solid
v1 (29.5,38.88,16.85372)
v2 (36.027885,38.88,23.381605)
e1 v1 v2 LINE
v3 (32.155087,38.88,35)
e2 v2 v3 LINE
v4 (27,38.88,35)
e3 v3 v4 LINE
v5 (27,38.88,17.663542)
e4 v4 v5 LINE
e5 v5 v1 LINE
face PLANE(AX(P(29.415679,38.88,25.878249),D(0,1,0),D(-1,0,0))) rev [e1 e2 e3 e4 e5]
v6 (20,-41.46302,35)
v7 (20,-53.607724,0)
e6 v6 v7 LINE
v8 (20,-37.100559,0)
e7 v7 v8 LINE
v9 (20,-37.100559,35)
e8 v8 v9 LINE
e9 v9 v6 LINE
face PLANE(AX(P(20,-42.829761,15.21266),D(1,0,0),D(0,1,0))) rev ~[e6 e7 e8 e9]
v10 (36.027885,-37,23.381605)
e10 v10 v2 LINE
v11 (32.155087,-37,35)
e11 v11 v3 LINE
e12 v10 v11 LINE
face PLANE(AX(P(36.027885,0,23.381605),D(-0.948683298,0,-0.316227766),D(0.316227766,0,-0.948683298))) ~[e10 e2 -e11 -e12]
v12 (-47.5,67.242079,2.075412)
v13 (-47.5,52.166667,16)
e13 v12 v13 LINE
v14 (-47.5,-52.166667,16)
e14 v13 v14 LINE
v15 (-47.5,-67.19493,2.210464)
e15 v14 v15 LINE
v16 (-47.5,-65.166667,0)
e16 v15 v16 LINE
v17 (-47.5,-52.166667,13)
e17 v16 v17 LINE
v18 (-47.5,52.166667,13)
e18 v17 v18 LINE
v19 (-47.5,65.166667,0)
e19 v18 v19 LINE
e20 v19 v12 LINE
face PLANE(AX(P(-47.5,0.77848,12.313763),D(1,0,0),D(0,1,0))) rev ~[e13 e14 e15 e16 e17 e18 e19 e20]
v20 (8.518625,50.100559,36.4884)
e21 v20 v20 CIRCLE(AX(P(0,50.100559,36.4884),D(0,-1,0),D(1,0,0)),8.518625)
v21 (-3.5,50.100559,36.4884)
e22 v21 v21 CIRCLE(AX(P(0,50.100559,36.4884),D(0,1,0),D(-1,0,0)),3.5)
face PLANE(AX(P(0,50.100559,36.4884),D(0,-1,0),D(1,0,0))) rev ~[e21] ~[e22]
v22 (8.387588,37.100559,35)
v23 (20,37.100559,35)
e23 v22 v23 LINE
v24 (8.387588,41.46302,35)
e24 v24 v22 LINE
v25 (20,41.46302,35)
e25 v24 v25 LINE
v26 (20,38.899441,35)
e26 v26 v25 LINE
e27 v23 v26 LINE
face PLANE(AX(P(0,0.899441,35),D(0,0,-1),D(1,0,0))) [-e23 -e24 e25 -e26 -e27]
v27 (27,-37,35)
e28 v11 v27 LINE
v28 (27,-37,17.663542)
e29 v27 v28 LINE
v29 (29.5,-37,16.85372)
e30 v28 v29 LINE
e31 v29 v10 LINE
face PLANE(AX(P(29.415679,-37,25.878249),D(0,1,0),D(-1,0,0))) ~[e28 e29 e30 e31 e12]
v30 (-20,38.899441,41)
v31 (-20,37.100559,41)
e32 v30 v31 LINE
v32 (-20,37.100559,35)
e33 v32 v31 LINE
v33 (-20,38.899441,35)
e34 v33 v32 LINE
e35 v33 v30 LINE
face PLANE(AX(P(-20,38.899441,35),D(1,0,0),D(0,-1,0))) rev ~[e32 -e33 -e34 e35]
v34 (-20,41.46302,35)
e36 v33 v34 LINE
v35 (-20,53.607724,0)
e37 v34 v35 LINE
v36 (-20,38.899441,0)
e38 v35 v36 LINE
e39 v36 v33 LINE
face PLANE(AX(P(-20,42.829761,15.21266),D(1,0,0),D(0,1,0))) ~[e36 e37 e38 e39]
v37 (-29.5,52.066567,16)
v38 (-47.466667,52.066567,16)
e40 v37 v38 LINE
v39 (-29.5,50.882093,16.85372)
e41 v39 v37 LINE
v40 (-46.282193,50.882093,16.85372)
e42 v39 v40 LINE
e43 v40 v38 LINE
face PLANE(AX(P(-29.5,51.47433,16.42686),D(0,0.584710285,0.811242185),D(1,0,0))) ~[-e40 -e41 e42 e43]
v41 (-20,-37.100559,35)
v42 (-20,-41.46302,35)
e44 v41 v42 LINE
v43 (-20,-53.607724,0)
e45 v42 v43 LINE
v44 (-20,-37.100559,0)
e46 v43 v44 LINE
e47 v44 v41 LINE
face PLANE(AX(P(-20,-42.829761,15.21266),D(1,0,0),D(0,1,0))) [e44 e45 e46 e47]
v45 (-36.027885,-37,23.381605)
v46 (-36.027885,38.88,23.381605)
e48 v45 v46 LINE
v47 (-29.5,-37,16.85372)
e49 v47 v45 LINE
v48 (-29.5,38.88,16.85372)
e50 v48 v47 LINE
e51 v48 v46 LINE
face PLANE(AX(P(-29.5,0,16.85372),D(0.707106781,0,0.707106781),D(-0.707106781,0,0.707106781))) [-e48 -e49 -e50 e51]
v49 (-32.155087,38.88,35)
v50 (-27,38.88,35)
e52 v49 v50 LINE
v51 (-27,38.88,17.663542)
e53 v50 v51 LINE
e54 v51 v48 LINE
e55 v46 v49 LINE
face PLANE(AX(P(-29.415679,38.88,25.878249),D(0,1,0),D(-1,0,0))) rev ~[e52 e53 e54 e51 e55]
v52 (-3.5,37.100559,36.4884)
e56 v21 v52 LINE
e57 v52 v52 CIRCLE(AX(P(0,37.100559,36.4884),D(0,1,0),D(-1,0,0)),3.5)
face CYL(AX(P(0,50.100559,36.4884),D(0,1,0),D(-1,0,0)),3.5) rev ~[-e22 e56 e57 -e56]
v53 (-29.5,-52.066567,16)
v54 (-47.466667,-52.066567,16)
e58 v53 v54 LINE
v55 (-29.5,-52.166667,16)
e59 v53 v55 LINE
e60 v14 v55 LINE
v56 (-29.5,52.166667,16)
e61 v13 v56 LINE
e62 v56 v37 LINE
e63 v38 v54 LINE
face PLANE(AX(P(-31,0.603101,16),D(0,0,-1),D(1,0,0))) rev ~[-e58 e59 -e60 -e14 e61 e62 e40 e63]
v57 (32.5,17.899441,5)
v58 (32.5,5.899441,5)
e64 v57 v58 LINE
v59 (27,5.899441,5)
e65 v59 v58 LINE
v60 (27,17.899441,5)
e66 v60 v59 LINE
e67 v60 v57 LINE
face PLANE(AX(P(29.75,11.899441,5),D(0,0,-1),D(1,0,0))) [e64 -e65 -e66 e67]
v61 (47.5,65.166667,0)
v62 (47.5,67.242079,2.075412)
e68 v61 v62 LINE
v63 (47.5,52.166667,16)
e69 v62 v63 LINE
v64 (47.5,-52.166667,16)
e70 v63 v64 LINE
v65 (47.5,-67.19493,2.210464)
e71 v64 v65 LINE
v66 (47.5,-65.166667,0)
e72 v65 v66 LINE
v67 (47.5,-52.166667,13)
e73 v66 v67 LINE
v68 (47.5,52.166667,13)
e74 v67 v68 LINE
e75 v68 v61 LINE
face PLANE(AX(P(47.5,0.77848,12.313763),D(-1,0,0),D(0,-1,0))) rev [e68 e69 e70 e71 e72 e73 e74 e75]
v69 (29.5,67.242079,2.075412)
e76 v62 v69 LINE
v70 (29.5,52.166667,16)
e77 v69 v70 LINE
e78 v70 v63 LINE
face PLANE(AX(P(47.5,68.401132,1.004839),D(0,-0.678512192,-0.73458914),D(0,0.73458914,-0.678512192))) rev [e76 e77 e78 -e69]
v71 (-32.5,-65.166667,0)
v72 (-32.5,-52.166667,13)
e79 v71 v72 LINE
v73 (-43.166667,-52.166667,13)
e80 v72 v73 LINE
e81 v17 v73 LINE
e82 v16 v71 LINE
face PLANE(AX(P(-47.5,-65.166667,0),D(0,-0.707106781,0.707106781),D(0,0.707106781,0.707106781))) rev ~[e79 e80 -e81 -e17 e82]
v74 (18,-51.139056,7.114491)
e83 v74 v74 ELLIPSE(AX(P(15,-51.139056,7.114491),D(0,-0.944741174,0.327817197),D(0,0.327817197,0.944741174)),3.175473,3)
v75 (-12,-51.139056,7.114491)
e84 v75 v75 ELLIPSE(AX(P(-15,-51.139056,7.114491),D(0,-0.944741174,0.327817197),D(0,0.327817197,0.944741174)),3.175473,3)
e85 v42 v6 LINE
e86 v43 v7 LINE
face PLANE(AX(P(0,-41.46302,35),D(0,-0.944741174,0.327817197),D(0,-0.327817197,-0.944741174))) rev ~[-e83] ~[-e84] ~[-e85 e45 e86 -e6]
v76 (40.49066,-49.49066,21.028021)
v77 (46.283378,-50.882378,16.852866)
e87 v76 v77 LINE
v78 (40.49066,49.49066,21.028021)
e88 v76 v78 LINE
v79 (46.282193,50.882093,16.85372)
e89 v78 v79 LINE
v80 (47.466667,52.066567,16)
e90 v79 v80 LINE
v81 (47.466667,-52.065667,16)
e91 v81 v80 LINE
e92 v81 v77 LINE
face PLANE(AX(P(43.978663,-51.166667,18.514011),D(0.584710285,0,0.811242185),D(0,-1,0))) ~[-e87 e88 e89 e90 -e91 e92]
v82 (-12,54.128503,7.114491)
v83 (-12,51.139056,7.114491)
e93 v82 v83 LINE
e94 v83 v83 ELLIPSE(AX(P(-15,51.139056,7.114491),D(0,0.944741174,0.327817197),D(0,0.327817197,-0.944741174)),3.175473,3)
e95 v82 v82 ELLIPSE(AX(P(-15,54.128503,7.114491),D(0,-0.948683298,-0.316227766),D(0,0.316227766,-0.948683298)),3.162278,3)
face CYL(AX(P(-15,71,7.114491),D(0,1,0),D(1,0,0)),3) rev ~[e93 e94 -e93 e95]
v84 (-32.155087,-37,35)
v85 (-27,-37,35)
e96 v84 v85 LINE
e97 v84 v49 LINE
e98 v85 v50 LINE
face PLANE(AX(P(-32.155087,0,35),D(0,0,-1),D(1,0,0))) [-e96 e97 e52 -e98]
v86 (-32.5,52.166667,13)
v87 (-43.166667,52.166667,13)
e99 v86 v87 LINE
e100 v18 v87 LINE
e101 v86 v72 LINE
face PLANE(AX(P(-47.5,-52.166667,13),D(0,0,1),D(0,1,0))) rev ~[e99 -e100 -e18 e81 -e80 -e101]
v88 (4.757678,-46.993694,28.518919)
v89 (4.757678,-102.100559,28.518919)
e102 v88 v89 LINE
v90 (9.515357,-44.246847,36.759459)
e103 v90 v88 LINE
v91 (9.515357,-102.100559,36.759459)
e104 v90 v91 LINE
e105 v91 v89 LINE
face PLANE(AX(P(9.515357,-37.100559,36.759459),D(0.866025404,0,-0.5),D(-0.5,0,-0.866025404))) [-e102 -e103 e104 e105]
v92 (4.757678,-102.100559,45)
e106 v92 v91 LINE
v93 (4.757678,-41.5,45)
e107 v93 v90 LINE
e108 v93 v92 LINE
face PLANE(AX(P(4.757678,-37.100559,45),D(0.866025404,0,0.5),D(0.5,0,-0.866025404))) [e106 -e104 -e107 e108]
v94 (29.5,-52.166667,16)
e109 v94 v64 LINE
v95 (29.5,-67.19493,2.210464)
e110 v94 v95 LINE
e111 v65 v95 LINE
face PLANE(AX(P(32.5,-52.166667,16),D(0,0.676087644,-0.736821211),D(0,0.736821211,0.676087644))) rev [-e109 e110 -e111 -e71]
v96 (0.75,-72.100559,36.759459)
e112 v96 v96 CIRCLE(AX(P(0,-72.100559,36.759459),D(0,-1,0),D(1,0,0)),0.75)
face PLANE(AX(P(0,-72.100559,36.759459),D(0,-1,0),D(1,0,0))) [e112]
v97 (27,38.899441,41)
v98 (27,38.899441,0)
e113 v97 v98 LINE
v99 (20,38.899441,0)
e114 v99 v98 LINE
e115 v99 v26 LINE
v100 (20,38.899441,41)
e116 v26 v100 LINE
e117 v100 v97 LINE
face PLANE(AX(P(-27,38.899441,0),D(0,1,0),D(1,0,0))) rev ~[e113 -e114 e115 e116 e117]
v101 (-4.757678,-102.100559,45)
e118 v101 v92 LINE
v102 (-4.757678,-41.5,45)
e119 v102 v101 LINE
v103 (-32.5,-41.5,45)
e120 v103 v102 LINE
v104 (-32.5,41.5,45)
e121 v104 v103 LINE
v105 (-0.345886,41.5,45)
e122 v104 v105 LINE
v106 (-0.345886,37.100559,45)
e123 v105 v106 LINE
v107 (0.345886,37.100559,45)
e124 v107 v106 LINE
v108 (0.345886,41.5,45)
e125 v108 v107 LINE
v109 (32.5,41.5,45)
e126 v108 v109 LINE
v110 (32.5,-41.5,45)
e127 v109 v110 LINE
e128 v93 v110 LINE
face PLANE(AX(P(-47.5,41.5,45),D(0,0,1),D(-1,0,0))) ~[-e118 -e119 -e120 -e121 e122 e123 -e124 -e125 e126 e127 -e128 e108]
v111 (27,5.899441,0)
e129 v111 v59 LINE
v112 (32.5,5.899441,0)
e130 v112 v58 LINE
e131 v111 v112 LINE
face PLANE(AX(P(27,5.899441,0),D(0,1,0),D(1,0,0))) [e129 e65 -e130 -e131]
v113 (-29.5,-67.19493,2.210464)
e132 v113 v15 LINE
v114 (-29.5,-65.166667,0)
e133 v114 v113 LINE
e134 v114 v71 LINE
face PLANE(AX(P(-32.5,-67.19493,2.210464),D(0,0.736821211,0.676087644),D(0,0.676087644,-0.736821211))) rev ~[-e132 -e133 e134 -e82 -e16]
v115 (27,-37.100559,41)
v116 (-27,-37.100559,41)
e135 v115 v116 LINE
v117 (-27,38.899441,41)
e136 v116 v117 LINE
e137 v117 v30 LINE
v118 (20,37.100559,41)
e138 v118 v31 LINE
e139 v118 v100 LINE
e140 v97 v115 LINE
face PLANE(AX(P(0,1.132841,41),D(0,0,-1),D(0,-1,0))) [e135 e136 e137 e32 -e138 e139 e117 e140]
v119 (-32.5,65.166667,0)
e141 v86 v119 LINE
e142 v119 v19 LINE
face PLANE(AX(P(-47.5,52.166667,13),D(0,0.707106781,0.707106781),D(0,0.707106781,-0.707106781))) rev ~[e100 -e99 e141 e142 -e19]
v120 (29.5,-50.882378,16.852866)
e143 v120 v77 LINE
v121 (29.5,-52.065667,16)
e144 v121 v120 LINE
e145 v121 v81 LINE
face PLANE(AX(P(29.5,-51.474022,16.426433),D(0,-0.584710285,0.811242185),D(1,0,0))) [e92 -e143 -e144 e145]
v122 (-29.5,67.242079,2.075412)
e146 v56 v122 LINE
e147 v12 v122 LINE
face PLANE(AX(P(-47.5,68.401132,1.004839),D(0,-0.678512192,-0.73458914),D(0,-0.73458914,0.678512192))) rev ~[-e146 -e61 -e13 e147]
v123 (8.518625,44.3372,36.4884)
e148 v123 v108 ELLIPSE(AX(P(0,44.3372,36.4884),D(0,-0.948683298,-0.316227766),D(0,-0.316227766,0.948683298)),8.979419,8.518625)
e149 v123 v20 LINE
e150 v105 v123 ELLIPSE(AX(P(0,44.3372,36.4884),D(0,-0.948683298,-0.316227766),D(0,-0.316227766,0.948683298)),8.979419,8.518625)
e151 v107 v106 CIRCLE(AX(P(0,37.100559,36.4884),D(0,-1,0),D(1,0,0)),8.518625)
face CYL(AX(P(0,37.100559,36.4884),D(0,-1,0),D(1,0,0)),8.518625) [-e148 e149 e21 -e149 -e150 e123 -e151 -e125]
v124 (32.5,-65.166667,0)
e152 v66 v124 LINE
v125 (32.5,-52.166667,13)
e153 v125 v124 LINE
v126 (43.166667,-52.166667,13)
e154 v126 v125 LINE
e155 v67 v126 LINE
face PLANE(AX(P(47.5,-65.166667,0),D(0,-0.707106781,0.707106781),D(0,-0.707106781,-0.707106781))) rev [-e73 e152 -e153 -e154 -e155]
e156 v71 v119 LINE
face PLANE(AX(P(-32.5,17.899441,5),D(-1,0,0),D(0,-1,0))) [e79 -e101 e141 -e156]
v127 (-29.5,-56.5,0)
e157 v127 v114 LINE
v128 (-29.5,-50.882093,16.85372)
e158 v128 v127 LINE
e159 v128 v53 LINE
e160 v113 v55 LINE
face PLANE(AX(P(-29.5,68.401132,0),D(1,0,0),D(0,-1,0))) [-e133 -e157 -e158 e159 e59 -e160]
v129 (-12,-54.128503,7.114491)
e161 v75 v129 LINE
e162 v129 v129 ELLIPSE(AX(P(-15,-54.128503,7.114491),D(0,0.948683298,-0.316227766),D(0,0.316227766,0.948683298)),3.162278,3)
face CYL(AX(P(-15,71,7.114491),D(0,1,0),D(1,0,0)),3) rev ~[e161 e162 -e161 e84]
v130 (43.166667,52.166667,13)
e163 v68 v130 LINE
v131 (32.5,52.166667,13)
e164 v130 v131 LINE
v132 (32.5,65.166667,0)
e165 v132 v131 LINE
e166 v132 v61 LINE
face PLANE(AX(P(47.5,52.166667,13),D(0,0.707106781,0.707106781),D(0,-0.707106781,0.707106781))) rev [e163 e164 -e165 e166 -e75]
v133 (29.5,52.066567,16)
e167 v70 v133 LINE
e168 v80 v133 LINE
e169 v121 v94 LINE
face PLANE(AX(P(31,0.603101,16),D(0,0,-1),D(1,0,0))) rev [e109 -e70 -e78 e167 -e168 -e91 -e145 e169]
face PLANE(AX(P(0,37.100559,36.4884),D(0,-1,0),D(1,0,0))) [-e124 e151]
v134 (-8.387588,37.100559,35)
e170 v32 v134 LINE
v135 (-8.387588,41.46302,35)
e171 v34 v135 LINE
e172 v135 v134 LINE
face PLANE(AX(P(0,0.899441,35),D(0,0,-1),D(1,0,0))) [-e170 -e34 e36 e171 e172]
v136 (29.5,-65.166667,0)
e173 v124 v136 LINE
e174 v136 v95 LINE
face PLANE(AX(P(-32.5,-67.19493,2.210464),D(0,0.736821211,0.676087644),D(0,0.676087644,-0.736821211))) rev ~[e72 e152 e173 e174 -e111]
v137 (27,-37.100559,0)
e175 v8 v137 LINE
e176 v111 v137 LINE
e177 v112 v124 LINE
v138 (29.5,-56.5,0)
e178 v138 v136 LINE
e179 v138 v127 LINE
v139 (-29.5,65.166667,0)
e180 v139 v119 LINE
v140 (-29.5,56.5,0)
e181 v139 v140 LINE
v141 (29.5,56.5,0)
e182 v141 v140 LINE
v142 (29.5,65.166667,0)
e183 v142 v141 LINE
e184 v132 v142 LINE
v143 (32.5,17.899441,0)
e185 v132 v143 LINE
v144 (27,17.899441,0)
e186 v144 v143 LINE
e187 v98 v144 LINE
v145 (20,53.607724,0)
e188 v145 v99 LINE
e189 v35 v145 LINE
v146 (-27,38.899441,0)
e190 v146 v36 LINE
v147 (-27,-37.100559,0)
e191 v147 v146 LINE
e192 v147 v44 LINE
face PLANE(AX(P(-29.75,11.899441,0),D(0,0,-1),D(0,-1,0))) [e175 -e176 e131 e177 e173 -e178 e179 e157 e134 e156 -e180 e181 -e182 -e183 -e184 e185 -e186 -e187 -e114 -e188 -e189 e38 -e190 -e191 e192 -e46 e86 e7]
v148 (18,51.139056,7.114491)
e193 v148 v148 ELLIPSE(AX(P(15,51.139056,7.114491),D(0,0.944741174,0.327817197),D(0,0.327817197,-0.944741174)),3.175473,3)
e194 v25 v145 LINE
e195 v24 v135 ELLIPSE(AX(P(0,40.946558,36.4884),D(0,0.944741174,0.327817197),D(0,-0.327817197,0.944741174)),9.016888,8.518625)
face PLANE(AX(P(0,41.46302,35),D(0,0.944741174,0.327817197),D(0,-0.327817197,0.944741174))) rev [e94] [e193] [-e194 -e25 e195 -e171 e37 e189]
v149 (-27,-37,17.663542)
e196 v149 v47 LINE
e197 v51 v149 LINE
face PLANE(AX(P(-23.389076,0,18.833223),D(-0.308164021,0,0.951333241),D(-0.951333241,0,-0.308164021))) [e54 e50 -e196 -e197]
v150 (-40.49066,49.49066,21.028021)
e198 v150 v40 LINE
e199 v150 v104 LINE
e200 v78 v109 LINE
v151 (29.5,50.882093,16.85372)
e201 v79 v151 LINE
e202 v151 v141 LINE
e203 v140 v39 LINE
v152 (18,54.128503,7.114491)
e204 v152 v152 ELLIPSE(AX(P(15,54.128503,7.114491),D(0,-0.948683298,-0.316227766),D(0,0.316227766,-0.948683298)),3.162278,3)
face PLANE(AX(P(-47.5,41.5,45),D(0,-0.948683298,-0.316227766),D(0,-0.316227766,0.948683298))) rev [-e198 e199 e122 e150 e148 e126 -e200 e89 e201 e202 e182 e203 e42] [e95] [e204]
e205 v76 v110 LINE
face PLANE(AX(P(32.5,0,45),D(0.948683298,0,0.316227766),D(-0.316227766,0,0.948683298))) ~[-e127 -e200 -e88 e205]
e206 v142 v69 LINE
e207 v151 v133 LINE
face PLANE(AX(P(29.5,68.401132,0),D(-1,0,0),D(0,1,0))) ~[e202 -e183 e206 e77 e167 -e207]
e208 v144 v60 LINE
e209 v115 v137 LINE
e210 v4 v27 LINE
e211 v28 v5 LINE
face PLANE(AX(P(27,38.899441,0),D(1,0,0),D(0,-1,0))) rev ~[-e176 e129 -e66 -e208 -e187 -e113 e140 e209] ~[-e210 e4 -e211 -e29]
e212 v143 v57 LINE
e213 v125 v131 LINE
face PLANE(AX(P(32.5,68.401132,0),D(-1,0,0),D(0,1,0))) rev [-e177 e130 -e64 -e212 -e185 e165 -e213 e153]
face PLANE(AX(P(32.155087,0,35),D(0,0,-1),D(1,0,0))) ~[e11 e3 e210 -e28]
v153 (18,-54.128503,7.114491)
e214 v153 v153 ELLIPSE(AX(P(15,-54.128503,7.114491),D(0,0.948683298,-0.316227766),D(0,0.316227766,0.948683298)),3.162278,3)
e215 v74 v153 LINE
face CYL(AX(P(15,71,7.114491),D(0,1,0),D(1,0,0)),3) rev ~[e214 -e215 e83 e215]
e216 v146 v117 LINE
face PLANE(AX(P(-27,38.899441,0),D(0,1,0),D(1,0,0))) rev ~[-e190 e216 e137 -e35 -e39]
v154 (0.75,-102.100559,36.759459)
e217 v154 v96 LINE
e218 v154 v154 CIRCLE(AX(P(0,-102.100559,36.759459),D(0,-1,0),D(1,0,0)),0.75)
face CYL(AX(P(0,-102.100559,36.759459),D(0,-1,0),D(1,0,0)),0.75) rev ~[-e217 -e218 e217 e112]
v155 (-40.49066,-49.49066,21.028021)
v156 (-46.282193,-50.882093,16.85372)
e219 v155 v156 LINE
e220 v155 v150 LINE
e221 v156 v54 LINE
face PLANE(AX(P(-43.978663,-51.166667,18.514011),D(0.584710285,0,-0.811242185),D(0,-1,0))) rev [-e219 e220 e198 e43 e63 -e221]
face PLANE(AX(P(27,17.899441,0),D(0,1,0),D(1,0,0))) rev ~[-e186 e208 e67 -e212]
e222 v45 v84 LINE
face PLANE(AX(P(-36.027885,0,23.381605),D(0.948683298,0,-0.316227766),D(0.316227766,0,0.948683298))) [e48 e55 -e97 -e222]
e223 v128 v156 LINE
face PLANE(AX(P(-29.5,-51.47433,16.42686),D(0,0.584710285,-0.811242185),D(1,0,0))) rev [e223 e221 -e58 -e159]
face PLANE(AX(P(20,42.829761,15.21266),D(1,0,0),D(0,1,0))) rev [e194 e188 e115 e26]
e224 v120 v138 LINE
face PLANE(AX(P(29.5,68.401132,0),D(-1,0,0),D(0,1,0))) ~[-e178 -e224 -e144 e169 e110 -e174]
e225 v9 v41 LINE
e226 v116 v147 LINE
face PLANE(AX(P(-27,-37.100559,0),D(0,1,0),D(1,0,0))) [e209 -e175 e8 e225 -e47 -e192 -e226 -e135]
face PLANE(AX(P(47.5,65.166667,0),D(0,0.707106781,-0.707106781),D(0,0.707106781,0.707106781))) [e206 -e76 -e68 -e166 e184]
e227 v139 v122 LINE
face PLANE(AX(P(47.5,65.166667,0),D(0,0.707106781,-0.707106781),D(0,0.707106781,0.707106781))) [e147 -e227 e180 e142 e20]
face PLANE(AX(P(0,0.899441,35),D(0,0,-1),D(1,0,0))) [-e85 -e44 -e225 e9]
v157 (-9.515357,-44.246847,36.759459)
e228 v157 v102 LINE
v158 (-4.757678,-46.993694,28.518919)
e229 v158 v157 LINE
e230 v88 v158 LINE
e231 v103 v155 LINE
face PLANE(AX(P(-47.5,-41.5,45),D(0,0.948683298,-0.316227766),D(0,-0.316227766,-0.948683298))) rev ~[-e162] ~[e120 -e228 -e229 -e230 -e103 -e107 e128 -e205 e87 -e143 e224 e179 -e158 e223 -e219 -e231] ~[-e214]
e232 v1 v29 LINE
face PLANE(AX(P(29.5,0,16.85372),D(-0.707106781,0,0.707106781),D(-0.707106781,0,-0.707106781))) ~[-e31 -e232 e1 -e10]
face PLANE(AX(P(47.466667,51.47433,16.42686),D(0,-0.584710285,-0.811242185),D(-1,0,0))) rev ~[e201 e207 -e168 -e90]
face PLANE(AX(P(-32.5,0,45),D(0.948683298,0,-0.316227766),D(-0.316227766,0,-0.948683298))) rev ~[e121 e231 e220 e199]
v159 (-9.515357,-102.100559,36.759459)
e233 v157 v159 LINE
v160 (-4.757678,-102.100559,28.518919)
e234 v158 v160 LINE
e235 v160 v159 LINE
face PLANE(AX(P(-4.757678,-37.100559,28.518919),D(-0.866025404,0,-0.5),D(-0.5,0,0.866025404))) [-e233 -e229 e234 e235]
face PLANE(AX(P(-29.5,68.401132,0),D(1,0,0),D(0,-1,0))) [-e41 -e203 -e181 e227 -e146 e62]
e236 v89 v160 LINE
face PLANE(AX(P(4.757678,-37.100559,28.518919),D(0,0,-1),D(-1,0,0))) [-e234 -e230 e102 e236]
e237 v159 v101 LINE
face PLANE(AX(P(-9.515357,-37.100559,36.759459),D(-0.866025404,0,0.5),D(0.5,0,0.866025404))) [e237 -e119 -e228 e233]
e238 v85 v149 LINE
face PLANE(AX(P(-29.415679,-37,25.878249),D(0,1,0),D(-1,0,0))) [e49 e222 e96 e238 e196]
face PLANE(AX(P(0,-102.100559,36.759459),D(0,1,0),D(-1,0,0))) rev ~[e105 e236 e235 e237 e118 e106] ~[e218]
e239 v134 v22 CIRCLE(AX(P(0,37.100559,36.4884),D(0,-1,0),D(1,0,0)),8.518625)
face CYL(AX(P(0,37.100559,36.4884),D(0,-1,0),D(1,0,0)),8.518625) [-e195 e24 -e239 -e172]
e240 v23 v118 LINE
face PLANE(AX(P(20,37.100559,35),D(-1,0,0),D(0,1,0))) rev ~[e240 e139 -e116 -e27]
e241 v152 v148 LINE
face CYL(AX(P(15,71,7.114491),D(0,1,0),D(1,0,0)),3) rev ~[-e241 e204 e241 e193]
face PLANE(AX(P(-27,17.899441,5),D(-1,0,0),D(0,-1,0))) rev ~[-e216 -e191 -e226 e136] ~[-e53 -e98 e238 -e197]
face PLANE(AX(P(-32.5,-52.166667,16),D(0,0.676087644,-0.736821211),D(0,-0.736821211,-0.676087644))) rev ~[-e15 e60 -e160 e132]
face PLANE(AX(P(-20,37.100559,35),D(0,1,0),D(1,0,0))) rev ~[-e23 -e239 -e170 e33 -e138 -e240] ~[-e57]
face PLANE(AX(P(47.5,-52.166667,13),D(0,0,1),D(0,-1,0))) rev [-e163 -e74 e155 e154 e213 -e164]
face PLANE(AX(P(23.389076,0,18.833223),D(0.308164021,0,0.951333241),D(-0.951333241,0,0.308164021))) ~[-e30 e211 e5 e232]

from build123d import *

# Parameters (mm, degrees)
SKETCH_W             = 65
SKETCH_H             = 83
PAD_DEPTH            = 45
SKETCH001_W          = 83
SKETCH001_H          = 32
PAD001_DEPTH         = 15
PAD002_DEPTH         = 15
POCKET_DEPTH         = 403.6691065481
POCKET001_DEPTH      = 500
POCKET001_DEPTH_BACK = 100
PAD003_DEPTH         = 16
SKETCH007_W          = 3
SKETCH007_H          = 135.5960614908
PAD004_DEPTH         = 16
POCKET002_DEPTH      = 414.7315387876
POCKET003_DEPTH      = 5
SKETCH008_W          = 54
SKETCH008_H          = 76
POCKET004_DEPTH      = 35
PAD005_DEPTH         = 65
CHAMFER_SIZE         = 5.3
CHAMFER001_SIZE      = 5.3
CHAMFER002_SIZE      = 0.8999
CHAMFER003_SIZE      = 0.899
CHAMFER004_SIZE      = 0.8999
CHAMFER005_SIZE      = 0.8999
POCKET005_DEPTH      = 80.0010001
POCKET006_DEPTH      = 80.0010001
POCKET007_DEPTH      = 10000
POCKET007_DEPTH_BACK = 100
POCKET008_DEPTH      = 95.001
SKETCH012_W          = 5.5
SKETCH012_H          = 12
POCKET009_DEPTH      = 5
POCKET010_DEPTH      = 20
POCKET010_DEPTH_BACK = 20
POCKET011_DEPTH      = 6
SKETCH014_R          = 8.518625
PAD006_DEPTH         = 13
SKETCH015_R          = 3.5
POCKET012_DEPTH      = 15
SKETCH016_R          = 0.75
POCKET013_DEPTH      = 40
SKETCH018_W          = 5.5
SKETCH018_H          = 12
POCKET014_DEPTH      = 5
POCKET014_FACE131_W  = 12
POCKET014_FACE131_H  = 5.5
PAD007_DEPTH         = 5
POCKET015_DEPTH      = 38.88
POCKET015_DEPTH_BACK = 37
SKETCH020_R          = 3
POCKET016_DEPTH      = 173.1015589479
SKETCH021_R          = 0.75
POCKET017_DEPTH      = 30


with BuildPart() as part:
    # Sketch → Pad (new body)
    with BuildSketch(Plane.XY):
        Rectangle(SKETCH_W, SKETCH_H)
    extrude(amount=PAD_DEPTH)

    # Sketch001 (on Face4 of Pad) → Pad001 (join)
    with BuildSketch(Plane(origin=(-32.5, 0, 0), x_dir=(0, -1, 0), z_dir=(-1, 0, 0))):
        with Locations((0, 29)):
            Rectangle(SKETCH001_W, SKETCH001_H)
    pad001 = extrude(amount=PAD001_DEPTH)

    # Mirrored: Pad001 across YZ
    add(pad001.mirror(Plane.YZ))

    # Sketch002 (on Face4 of Mirrored) → Pad002 (join)
    with BuildSketch(Plane.XZ.offset(41.5)):
        Polygon((-47.5, 45), (47.5, 45), (47.5, 13), (32.5, 13), (32.5, 0), (-32.5, 0), (-32.5, 13), (-47.5, 13), align=None)
    pad002 = extrude(amount=PAD002_DEPTH)

    # Mirrored001: Pad002 across XZ
    add(pad002.mirror(Plane.XZ))

    # Sketch003 (on Face13 of Mirrored001) → Pocket (cut, through all)
    with BuildSketch(Plane(origin=(-47.5, 0, 0), x_dir=(0, -1, 0), z_dir=(-1, 0, 0))):
        Polygon((41.5, 45), (56.5, 0), (69.973511, 50.863071), align=None)
    pocket = extrude(amount=-POCKET_DEPTH, mode=Mode.SUBTRACT)

    # Mirrored002: Pocket across XZ
    add(pocket.mirror(Plane.XZ), mode=Mode.SUBTRACT)

    # Sketch004 → Pocket001 (cut, two sides)
    with BuildSketch(Plane.XZ) as pocket001_sk:
        Polygon((-32.5, 45), (-47.5, 0), (-68.972275, 31.059837), (-58.790833, 51.045628), align=None)
    pocket001 = extrude(amount=-POCKET001_DEPTH, mode=Mode.SUBTRACT) + extrude(pocket001_sk.sketch, amount=POCKET001_DEPTH_BACK, mode=Mode.SUBTRACT)

    # Mirrored003: Pocket001 across YZ
    add(pocket001.mirror(Plane.YZ), mode=Mode.SUBTRACT)

    # Sketch006 (on DatumPlane) → Pad003 (join)
    with BuildSketch(Plane(origin=(-47.5, 0, 4), x_dir=(0, -1, 0), z_dir=(-1, 0, 0))):
        Polygon((-68.401131891, -2.9951612268), (-52.1666666667, 12), (52.1666666667, 12), (67.1949295998, -1.7895363668), (65.1666666666, -4), (52.1666666667, 9), (-52.1666666667, 9), (-66.3655953138, -5.1989286472), align=None)
    pad003 = extrude(amount=-PAD003_DEPTH)

    # Sketch007 (on Face8 of Pad003) → Pad004 (join)
    with BuildSketch(Plane(origin=(0, 0, 0), x_dir=(1, 0, 0), z_dir=(0, 0, -1))):
        with Locations((-31, -0.6031011456)):
            Rectangle(SKETCH007_W, SKETCH007_H)
    pad004 = extrude(amount=-PAD004_DEPTH)

    # Pad004 Face41 → Pocket002 (cut, through all)
    with BuildSketch(Plane(origin=(-32.5, 62.9896434829, 11.0016129244), x_dir=(0, 1, 0), z_dir=(-1, 0, 0))):
        Polygon((5.4114884081, -4.9983870756), (5.4114884081, 9.9967741512), (-10.8229768162, -4.9983870756), align=None)
    pocket002 = extrude(amount=-POCKET002_DEPTH, mode=Mode.SUBTRACT)

    # Pocket002 Face27 → Pocket003 (cut)
    with BuildSketch(Plane(origin=(-32.5, -62.1855086221, 11.4034878777), x_dir=(0, 1, 0), z_dir=(-1, 0, 0))):
        Polygon((10.0188419554, -4.5965121223), (-5.0094209777, 9.1930242445), (-5.0094209777, -4.5965121223), align=None)
    pocket003 = extrude(amount=-POCKET003_DEPTH, mode=Mode.SUBTRACT)

    # Mirrored004: Pad003 across YZ
    add(pad003.mirror(Plane.YZ))

    # Mirrored005: Pad004 across YZ
    add(pad004.mirror(Plane.YZ))

    # Mirrored006: Pocket002 across YZ
    add(pocket002.mirror(Plane.YZ), mode=Mode.SUBTRACT)

    # Mirrored007: Pocket003 across YZ
    add(pocket003.mirror(Plane.YZ), mode=Mode.SUBTRACT)

    # Sketch008 (on Face8 of Mirrored007) → Pocket004 (cut)
    with BuildSketch(Plane(origin=(0, 0, 0), x_dir=(1, 0, 0), z_dir=(0, 0, -1))):
        with Locations((0, -0.8994410524)):
            Rectangle(SKETCH008_W, SKETCH008_H)
    extrude(amount=-POCKET004_DEPTH, mode=Mode.SUBTRACT)

    # Sketch009 (on Face24 of Pocket004) → Pad005 (join)
    with BuildSketch(Plane(origin=(0, -37.1005589476, 0), x_dir=(-1, 0, 0), z_dir=(0, 1, 0))):
        Polygon((-4.7576784019, 45), (-9.5153568039, 36.7594592818), (-4.7576784019, 28.5189185635), (4.7576784019, 28.5189185635), (9.5153568039, 36.7594592818), (4.7576784019, 45), align=None)
    extrude(amount=-PAD005_DEPTH)

    # Chamfer
    chamfer_edges = [part.edges().sort_by_distance(p)[0] for p in [
        (42.166667, 0, 16),
    ]]
    chamfer(chamfer_edges, length=CHAMFER_SIZE)

    # Chamfer001
    chamfer001_edges = [part.edges().sort_by_distance(p)[0] for p in [
        (-42.166667, 0, 16),
    ]]
    chamfer(chamfer001_edges, length=CHAMFER001_SIZE)

    # Chamfer002
    chamfer002_edges = [part.edges().sort_by_distance(p)[0] for p in [
        (-44.816667, -51.166667, 16),
        (-37.333333, -51.166667, 16),
        (-32, -51.166667, 16),
        (-30.5, -51.166667, 16),
    ]]
    chamfer(chamfer002_edges, length=CHAMFER002_SIZE)

    # Chamfer003
    chamfer003_edges = [part.edges().sort_by_distance(p)[0] for p in [
        (30.5, -51.166667, 16),
        (32, -51.166667, 16),
        (37.333333, -51.166667, 16),
        (44.816667, -51.166667, 16),
    ]]
    chamfer(chamfer003_edges, length=CHAMFER003_SIZE)

    # Chamfer004
    chamfer004_edges = [part.edges().sort_by_distance(p)[0] for p in [
        (-30.5, 51.166667, 16),
        (-32, 51.166667, 16),
        (-37.333333, 51.166667, 16),
        (-44.816667, 51.166667, 16),
    ]]
    chamfer(chamfer004_edges, length=CHAMFER004_SIZE)

    # Chamfer005
    chamfer005_edges = [part.edges().sort_by_distance(p)[0] for p in [
        (44.816667, 51.166667, 16),
        (37.333333, 51.166667, 16),
        (32, 51.166667, 16),
        (30.5, 51.166667, 16),
    ]]
    chamfer(chamfer005_edges, length=CHAMFER005_SIZE)

    # Chamfer005 Face72 → Pocket005 (cut, through all)
    with BuildSketch(Plane(origin=(-32.5, 68.0917547069, 0.3349462577), x_dir=(0, 1, 0), z_dir=(-1, 0, 0))):
        Polygon((0.3093771841, 0.3349462577), (-0.6187543683, 0.3349462577), (0.3093771841, -0.6698925155), align=None)
    extrude(amount=-POCKET005_DEPTH, mode=Mode.SUBTRACT)

    # Pocket005 Face105 → Pocket006 (cut, through all)
    with BuildSketch(Plane(origin=(-32.5, -66.5188419554, 0.7368212111), x_dir=(0, 1, 0), z_dir=(-1, 0, 0))):
        Polygon((-0.6760876444, -1.4736424221), (1.3521752888, 0.7368212111), (-0.6760876444, 0.7368212111), align=None)
    extrude(amount=-POCKET006_DEPTH, mode=Mode.SUBTRACT)

    # Pocket006 Face73 → Pocket007 (cut, two sides)
    with BuildSketch(Plane(origin=(-31.5, 66.3350874397, -0.3996428824), x_dir=(0, -1, 0), z_dir=(1, 0, 0))) as pocket007_sk:
        Polygon((1.168420773, -0.3996428824), (-0.0305078741, 0.7992857648), (-1.1379128989, -0.3996428824), align=None)
    extrude(amount=-POCKET007_DEPTH, mode=Mode.SUBTRACT)
    extrude(pocket007_sk.sketch, amount=POCKET007_DEPTH_BACK, mode=Mode.SUBTRACT)

    # Sketch011 (on Face39 of Pocket007) → Pocket008 (cut, through all)
    with BuildSketch(Plane.YZ.offset(47.5)):
        Polygon((65.1666666667, 0), (68.818161, 3.6514943333), (70.985268, 1.013342), (68.517616, -0.789946), align=None)
    extrude(amount=-POCKET008_DEPTH, mode=Mode.SUBTRACT)

    # Sketch012 (on Face30 of Pocket008) → Pocket009 (cut)
    with BuildSketch(Plane(origin=(0, 0, 0), x_dir=(1, 0, 0), z_dir=(0, 0, -1))):
        with Locations((-29.75, -11.8994410524)):
            Rectangle(SKETCH012_W, SKETCH012_H)
    extrude(amount=-POCKET009_DEPTH, mode=Mode.SUBTRACT)

    # Sketch013 → Pocket010 (cut, two sides)
    with BuildSketch(Plane.YZ) as pocket010_sk:
        Polygon((-37.1005589476, 35), (-41.46302, 35), (-53.607724, 0), (-37.1005589476, 0), align=None)
    pocket010 = extrude(amount=-POCKET010_DEPTH, mode=Mode.SUBTRACT) + extrude(pocket010_sk.sketch, amount=POCKET010_DEPTH_BACK, mode=Mode.SUBTRACT)

    # Mirrored008: Pocket010 across XZ
    add(pocket010.mirror(Plane.XZ), mode=Mode.SUBTRACT)

    # Mirrored008 Face101 → Pocket011 (cut)
    with BuildSketch(Plane(origin=(0, 0.2373498677, 35), x_dir=(0, -1, 0), z_dir=(0, 0, -1))):
        Polygon((37.3379088153, 27), (-38.6620911847, 27), (-38.6620911847, 20), (-36.86320908, 20), (-36.86320908, -20), (-38.6620911847, -20), (-38.6620911847, -27), (37.3379088153, -27), (37.3379088153, -20), (37.3379088153, -8.4995325139), (37.3379088153, 8.4995325139), (37.3379088153, 20), align=None)
    extrude(amount=-POCKET011_DEPTH, mode=Mode.SUBTRACT)

    # Sketch014 (on Face128 of Pocket011) → Pad006 (join)
    with BuildSketch(Plane.XZ.offset(-37.1005589476)):
        with Locations((0, 36.4884)):
            Circle(SKETCH014_R)
    extrude(amount=-PAD006_DEPTH)

    # Sketch015 (on Face43 of Pad006) → Pocket012 (cut)
    with BuildSketch(Plane(origin=(0, 50.1005589476, 0), x_dir=(-1, 0, 0), z_dir=(0, 1, 0))):
        with Locations((0, 36.4884)):
            Circle(SKETCH015_R)
    extrude(amount=-POCKET012_DEPTH, mode=Mode.SUBTRACT)

    # Sketch016 (on Face67 of Pocket012) → Pocket013 (cut)
    with BuildSketch(Plane.XZ.offset(102.1005589476)):
        with Locations((0, 57.966855919)):
            Circle(SKETCH016_R)
    extrude(amount=-POCKET013_DEPTH, mode=Mode.SUBTRACT)

    # Sketch018 → Pocket014 (cut)
    with BuildSketch(Plane(origin=(0, 0, 0), x_dir=(1, 0, 0), z_dir=(0, 0, -1))):
        with Locations((29.75, -11.8994410524)):
            Rectangle(SKETCH018_W, SKETCH018_H)
    extrude(amount=-POCKET014_DEPTH, mode=Mode.SUBTRACT)

    # Pocket014 Face131 → Pad007 (add)
    with BuildSketch(Plane(origin=(-29.75, 11.8994410524, 5), x_dir=(0, -1, 0), z_dir=(0, 0, -1))):
        Rectangle(POCKET014_FACE131_W, POCKET014_FACE131_H)
    extrude(amount=PAD007_DEPTH)

    # Sketch019 → Pocket015 (cut, two sides)
    with BuildSketch(Plane.XZ) as pocket015_sk:
        Polygon((-29.5, 16.8537200999), (-36.0278850321, 23.381605132), (-32.1550867428, 35), (-27, 35), (-23.389076, 18.833223), align=None)
    pocket015 = extrude(amount=-POCKET015_DEPTH, mode=Mode.SUBTRACT) + extrude(pocket015_sk.sketch, amount=POCKET015_DEPTH_BACK, mode=Mode.SUBTRACT)

    # Mirrored009: Pocket015 across YZ
    add(pocket015.mirror(Plane.YZ), mode=Mode.SUBTRACT)

    # Sketch020 (on DatumPlane) → Pocket016 (cut, through all)
    with BuildSketch(Plane(origin=(0, 71, 34), x_dir=(1, 0, 0), z_dir=(0, 1, 0))):
        with Locations((-15, 26.885509115)):
            Circle(SKETCH020_R)
        with Locations((15, 26.885509115)):
            Circle(SKETCH020_R)
    extrude(amount=-POCKET016_DEPTH, mode=Mode.SUBTRACT)

    # Sketch021 (on Face71 of Pocket016) → Pocket017 (cut)
    with BuildSketch(Plane.XZ.offset(102.1005589476)):
        with Locations((0, 36.7594592818)):
            Circle(SKETCH021_R)
    extrude(amount=-POCKET017_DEPTH, mode=Mode.SUBTRACT)


solid = part.part
